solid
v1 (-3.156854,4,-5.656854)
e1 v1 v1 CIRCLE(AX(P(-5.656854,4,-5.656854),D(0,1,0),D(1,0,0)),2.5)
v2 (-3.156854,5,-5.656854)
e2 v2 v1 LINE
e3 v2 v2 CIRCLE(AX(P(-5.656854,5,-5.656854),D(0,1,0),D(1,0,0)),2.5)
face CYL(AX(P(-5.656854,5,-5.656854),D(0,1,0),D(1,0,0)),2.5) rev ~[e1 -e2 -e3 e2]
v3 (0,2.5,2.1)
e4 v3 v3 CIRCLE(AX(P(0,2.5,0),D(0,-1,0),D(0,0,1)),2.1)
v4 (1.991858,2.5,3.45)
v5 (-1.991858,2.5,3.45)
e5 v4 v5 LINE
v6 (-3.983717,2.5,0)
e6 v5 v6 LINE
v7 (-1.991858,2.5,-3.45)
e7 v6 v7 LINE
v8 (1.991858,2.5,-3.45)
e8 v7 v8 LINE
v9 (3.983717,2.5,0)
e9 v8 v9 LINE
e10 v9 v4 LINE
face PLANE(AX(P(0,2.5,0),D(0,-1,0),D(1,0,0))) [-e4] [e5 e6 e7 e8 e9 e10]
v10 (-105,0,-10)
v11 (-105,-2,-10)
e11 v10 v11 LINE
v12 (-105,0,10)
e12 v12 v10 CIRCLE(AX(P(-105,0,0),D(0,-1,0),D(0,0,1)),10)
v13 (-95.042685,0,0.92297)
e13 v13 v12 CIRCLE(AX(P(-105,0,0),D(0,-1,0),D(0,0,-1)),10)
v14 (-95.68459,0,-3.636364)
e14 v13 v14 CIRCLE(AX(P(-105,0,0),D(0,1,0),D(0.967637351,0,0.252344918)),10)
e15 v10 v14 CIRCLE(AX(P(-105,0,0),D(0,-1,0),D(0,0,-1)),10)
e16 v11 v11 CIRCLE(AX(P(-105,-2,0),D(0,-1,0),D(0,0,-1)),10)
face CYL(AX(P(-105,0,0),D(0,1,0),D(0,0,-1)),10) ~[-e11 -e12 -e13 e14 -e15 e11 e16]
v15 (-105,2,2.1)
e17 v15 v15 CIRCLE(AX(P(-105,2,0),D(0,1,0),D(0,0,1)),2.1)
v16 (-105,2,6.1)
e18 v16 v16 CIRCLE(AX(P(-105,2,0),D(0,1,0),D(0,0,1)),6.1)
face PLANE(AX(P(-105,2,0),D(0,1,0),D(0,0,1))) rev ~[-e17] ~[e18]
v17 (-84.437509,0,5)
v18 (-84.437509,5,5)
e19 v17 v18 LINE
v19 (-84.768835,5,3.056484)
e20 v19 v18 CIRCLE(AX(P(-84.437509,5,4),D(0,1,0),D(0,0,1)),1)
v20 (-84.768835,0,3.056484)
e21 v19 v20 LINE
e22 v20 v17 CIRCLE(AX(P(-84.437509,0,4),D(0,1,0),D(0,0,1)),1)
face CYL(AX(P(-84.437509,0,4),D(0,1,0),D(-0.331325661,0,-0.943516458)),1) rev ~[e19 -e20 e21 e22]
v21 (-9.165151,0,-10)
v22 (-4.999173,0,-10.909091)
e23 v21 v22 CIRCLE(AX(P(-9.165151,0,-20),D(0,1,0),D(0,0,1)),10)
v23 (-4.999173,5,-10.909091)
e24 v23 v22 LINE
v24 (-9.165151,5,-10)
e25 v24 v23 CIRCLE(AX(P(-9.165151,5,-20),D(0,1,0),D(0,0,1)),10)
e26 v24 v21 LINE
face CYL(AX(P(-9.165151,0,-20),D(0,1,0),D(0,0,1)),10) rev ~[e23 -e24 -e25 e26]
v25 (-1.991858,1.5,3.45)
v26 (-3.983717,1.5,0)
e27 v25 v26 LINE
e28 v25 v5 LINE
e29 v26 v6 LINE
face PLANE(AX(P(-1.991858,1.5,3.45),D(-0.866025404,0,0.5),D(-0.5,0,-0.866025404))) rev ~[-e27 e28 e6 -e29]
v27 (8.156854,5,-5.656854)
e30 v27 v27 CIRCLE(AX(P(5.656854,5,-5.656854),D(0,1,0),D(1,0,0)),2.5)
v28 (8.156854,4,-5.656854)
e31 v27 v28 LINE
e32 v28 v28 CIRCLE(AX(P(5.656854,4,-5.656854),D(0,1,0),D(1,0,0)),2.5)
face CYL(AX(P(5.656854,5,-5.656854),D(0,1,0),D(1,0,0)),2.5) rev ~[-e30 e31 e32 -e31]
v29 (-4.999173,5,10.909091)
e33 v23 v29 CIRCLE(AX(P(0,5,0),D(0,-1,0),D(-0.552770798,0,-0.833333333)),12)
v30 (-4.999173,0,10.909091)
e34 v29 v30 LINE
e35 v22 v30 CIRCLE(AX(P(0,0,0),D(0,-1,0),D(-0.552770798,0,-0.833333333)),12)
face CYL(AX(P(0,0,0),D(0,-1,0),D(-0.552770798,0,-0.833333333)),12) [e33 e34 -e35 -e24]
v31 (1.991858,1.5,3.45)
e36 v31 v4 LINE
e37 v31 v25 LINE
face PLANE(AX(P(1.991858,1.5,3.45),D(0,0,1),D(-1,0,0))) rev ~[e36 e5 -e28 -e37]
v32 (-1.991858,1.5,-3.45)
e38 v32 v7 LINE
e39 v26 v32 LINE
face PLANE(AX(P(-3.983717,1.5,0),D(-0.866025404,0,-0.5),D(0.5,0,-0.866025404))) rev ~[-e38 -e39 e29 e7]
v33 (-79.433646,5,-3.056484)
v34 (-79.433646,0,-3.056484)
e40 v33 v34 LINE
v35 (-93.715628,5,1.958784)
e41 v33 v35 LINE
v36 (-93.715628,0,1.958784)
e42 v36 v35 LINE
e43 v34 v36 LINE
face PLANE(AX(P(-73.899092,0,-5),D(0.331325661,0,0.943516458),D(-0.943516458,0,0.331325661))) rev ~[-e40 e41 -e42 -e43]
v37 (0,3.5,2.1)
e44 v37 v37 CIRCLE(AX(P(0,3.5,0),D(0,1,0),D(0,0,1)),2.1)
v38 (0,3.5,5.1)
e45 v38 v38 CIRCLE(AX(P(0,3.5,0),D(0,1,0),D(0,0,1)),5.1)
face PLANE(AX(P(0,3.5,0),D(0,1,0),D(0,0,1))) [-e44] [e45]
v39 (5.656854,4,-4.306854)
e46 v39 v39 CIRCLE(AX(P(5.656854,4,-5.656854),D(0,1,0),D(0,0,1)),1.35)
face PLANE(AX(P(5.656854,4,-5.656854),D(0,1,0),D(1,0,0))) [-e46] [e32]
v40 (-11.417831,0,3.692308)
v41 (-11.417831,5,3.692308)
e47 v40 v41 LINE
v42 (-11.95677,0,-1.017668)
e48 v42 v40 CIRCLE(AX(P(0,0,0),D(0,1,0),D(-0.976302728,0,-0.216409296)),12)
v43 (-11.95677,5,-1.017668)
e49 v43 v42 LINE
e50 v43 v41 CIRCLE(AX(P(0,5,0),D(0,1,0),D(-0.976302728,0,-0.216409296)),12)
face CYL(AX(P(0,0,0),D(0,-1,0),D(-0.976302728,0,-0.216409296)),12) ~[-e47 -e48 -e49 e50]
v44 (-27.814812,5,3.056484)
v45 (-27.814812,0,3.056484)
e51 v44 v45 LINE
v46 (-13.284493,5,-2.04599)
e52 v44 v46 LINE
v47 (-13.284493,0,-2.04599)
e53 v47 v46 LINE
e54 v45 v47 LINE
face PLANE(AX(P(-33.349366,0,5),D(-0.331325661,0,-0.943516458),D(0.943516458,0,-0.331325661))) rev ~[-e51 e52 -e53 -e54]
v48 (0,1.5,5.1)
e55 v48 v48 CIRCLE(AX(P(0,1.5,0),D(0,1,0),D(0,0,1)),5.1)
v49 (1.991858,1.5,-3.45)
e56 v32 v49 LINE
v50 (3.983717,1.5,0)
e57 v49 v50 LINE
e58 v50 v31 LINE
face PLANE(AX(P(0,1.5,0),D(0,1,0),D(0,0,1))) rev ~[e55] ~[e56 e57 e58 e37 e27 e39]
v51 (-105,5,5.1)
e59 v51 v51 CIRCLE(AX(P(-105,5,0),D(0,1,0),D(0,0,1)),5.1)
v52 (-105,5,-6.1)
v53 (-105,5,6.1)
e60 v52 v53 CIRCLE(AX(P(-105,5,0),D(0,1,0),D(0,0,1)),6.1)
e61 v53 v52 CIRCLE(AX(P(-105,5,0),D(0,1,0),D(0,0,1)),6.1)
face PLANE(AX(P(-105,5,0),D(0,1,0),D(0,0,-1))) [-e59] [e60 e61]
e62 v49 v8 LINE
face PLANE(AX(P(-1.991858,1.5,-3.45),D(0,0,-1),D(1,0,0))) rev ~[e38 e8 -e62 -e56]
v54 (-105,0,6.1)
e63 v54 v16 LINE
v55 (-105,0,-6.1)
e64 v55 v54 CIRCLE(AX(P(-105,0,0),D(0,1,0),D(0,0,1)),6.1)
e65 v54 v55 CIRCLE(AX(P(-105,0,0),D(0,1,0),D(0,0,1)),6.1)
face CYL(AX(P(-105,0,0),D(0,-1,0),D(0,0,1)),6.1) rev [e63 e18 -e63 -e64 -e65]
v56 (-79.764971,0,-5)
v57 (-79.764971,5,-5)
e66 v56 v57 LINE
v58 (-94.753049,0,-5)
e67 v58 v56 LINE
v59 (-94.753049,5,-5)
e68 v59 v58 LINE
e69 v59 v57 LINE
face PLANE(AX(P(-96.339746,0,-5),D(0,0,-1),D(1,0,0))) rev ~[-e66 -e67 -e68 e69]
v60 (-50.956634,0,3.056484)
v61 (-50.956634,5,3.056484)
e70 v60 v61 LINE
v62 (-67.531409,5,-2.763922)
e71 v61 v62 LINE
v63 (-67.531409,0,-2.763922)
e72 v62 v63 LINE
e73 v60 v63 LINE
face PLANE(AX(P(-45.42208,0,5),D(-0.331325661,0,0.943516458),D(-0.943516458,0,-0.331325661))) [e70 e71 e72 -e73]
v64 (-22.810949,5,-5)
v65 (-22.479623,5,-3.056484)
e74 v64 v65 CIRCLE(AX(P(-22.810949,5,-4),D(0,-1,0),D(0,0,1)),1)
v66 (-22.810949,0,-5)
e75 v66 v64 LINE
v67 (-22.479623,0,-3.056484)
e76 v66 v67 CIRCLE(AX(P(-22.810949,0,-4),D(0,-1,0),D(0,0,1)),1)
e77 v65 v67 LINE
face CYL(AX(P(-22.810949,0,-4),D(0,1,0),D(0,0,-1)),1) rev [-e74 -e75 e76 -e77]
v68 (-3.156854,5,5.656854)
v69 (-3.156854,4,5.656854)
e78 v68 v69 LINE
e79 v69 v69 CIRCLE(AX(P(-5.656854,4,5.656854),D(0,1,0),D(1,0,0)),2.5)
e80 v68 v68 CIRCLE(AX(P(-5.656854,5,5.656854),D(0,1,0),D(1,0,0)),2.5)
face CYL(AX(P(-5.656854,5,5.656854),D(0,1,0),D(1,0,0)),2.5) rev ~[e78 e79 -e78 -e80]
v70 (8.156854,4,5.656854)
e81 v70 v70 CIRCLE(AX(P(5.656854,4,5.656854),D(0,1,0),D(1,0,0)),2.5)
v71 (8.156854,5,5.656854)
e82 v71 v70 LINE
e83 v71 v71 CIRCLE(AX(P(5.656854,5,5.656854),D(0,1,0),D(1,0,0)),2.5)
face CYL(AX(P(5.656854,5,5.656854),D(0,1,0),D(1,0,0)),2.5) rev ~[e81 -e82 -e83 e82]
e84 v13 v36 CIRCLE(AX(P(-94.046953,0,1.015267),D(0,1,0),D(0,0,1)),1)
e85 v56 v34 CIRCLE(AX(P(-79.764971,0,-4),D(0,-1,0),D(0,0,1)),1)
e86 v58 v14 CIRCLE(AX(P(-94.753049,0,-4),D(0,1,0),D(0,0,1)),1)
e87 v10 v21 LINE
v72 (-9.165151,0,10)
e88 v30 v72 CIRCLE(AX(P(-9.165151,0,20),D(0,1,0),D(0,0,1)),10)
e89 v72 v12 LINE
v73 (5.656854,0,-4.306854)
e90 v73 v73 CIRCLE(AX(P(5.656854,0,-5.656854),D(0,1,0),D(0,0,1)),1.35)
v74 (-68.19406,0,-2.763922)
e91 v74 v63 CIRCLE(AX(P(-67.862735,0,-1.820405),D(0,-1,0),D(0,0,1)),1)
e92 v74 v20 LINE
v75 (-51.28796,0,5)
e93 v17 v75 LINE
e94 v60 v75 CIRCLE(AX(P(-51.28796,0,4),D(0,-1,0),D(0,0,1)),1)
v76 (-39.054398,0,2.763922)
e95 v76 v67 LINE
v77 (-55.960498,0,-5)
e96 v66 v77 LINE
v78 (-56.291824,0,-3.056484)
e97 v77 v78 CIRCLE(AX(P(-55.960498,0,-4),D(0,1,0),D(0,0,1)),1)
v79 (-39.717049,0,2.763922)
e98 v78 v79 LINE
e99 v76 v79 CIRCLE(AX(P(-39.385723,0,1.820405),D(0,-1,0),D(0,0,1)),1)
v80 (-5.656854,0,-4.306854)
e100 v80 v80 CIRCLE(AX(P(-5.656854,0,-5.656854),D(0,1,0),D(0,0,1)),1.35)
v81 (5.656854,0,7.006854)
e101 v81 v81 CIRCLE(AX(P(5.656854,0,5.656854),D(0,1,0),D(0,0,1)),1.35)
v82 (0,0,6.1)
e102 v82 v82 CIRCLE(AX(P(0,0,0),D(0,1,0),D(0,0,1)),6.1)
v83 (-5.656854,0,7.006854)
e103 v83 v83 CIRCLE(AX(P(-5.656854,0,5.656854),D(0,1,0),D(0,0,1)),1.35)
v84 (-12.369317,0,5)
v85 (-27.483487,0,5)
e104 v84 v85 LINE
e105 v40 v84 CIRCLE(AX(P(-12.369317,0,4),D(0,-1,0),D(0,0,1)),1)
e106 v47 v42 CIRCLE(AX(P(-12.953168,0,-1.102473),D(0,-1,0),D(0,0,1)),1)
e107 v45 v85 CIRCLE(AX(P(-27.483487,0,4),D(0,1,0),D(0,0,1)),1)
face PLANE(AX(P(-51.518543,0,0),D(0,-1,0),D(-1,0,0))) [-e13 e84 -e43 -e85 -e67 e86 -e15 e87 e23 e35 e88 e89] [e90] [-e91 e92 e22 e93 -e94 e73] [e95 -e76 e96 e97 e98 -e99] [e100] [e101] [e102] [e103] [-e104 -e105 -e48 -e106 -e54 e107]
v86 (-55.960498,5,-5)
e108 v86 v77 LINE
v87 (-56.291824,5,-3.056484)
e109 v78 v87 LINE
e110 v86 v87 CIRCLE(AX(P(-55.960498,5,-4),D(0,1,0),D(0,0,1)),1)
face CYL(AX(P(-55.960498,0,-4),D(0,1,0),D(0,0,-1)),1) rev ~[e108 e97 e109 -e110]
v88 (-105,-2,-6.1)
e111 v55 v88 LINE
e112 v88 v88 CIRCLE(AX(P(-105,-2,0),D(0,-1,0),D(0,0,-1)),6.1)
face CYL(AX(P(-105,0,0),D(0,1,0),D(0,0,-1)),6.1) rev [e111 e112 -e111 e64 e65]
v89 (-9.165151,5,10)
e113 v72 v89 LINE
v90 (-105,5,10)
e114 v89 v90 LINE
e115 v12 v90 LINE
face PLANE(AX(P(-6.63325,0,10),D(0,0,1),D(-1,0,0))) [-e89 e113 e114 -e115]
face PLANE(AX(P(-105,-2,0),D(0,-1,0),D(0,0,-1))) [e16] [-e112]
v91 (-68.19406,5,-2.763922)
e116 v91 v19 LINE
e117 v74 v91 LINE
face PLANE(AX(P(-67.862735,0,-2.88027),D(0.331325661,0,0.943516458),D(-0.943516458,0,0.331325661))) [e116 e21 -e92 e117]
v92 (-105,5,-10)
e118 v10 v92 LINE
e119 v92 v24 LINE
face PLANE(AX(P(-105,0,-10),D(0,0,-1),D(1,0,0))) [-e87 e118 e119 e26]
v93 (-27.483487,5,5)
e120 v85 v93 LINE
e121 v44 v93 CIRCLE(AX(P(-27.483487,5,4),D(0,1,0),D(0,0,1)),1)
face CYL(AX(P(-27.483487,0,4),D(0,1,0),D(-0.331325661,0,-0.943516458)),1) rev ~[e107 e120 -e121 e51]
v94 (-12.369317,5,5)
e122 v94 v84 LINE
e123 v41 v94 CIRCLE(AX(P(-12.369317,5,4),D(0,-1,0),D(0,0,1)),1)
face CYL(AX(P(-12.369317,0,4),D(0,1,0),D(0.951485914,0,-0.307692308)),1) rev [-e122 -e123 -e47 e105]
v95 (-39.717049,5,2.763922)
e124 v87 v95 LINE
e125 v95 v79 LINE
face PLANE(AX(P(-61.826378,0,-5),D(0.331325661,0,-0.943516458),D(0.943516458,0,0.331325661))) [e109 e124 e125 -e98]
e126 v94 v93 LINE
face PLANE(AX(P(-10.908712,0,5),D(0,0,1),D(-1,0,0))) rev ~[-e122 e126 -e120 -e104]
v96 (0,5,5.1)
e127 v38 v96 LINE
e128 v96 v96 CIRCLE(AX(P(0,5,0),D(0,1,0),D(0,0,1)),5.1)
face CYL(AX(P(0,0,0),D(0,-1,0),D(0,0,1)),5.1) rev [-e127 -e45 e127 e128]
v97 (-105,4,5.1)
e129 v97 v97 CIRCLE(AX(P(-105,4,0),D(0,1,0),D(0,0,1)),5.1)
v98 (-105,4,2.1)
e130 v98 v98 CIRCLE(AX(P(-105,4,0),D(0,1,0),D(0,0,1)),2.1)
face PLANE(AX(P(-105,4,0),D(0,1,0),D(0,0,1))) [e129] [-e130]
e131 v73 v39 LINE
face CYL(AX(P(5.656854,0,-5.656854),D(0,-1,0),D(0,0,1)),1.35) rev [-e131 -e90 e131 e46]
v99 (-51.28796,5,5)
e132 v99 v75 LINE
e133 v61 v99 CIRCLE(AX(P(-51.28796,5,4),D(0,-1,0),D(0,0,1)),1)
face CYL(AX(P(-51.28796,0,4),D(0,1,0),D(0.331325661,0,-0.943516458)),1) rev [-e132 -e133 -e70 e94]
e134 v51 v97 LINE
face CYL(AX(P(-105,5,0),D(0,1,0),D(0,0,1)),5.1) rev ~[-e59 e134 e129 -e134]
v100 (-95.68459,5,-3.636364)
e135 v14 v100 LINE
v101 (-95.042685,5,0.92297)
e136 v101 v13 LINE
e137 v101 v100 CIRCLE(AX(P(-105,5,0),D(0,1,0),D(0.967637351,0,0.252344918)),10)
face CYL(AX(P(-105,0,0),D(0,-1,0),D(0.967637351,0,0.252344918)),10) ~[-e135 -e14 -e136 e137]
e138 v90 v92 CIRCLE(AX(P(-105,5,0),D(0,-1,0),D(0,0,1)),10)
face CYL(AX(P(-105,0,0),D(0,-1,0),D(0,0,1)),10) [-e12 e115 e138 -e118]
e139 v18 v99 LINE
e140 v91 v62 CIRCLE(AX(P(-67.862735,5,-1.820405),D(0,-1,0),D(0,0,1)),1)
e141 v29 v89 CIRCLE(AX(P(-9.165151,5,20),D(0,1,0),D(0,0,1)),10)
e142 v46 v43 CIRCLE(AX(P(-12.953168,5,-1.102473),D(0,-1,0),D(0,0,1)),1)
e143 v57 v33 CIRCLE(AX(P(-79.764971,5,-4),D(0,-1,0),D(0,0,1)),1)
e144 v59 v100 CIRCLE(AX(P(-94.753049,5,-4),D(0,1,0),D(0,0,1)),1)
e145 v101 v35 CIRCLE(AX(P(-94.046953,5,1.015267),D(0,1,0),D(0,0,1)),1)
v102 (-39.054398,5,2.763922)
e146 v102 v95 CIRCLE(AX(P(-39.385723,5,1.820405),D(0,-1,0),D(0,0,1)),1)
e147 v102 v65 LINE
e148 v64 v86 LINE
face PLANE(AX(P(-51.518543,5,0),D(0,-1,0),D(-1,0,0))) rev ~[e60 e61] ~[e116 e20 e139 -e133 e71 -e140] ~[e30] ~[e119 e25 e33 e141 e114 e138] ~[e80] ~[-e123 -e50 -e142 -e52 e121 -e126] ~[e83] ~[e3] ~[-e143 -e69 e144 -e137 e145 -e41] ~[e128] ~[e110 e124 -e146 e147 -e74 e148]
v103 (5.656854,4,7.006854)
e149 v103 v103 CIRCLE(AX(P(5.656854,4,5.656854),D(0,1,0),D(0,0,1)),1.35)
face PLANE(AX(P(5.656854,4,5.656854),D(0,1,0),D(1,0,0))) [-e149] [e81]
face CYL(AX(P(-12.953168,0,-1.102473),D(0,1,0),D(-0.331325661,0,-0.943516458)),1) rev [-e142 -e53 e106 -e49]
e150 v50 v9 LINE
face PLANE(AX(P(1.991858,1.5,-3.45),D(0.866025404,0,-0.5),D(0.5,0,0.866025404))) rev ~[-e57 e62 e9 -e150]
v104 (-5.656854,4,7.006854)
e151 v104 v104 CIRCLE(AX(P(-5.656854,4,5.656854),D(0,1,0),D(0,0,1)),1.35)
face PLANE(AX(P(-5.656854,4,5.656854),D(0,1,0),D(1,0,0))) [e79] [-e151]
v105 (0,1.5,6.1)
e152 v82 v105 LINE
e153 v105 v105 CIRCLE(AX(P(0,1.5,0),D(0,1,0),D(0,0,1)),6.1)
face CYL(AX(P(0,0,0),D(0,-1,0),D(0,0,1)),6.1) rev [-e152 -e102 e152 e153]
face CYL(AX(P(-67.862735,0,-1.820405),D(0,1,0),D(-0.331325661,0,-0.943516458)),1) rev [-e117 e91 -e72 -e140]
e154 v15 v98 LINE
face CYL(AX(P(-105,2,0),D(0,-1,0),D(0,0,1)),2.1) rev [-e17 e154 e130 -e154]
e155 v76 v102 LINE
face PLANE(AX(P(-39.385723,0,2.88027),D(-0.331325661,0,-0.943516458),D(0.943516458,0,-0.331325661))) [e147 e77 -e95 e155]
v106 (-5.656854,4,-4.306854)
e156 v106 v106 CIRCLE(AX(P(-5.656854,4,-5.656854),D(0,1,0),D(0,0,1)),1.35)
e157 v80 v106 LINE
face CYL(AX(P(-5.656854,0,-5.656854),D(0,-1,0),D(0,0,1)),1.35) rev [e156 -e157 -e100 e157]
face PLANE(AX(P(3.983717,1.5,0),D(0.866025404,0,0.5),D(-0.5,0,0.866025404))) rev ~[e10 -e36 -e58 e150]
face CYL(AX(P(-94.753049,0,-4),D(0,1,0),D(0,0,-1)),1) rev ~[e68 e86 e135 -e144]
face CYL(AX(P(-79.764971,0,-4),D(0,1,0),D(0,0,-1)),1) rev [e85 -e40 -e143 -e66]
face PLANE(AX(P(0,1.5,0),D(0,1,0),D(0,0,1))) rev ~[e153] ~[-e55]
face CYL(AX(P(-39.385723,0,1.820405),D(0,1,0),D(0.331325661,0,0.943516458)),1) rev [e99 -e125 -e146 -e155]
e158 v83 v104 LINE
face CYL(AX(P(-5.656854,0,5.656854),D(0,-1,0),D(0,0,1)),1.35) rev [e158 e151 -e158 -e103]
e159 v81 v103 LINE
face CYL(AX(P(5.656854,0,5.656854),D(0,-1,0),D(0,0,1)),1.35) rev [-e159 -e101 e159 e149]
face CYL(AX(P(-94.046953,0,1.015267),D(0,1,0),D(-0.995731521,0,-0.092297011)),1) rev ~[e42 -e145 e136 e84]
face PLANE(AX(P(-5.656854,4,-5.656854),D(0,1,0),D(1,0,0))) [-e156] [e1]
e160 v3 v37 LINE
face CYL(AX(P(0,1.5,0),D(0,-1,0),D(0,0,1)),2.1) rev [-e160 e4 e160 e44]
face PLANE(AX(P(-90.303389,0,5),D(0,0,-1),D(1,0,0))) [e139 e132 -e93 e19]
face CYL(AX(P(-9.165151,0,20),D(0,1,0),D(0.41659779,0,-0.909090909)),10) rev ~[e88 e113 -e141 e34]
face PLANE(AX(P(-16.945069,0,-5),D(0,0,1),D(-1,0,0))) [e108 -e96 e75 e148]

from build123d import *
from build123d.topology import SkipClean

# Parameters (mm, degrees)
SKETCH_1_R            = 1.35
SKETCH_1_R_2          = 5.1
SKETCH_1_R_3          = 6.1
EXTRUDE_1_DEPTH       = 5
EXTRUDE_START         = 1.5
SKETCH_1_4_R          = 6.1
SKETCH_1_4_R_2        = 5.1
SKETCH_1_4_R_3        = 2.1
EXTRUDE_3_DEPTH       = 2
FILLET_1_R            = 1
FILLET_2_R            = 1
FILLET_3_R            = 1
FILLET_4_R            = 1
FILLET_5_R            = 10
SKETCH_1_9_R          = 1.35
SKETCH_1_9_R_2        = 6.1
SKETCH_1_9_R_3        = 2.1
EXTRUDE_4_DEPTH       = 4
EXTRUDE_START_2       = 2
SKETCH_1_10_R         = 6.1
SKETCH_1_10_R_2       = 2.1
EXTRUDE_5_DEPTH       = 2
SKETCH_1_11_R         = 6.1
SKETCH_1_11_R_2       = 5.1
EXTRUDE_7_DEPTH       = 3.5
CUT_EXTRUDE_START     = 5
SKETCH_1_15_R         = 2.5
SKETCH_1_15_R_2       = 1.35
CUT_EXTRUDE_1_DEPTH   = 1
SKETCH_2_R            = 10
SKETCH_2_R_2          = 6.1
EXTRUDE_8_DEPTH       = 2
SKETCH_1_16_R         = 6.1
SKETCH_1_16_R_2       = 5.1
CUT_EXTRUDE_1_2_DEPTH = 1.5
SKETCH_3_R            = 6.1
SKETCH_3_R_2          = 5.1
EXTRUDE_9_DEPTH       = 1
CUT_EXTRUDE_2_DEPTH   = 1


with BuildPart() as part:
    # 草图1 → 凸台-拉伸1 (new body)
    with BuildSketch(Plane(origin=(0, 0, 0), x_dir=(1, 0, 0), z_dir=(0, 1, 0))):
        with BuildLine():
            Line((-105, 10), (-6.633249581, 10))
            ThreePointArc((-6.633249581, 10), (12, 0), (-6.633249581, -10))
            Line((-6.633249581, -10), (-105, -10))
            ThreePointArc((-105, -10), (-115, 0), (-105, 10))
        make_face()
        with Locations(Location((-5.656854249, 5.656854249, 0), (0, 0, 270))):
            Circle(SKETCH_1_R, mode=Mode.SUBTRACT)
        with Locations(Location((5.656854249, 5.656854249, 0), (0, 0, 270))):
            Circle(SKETCH_1_R, mode=Mode.SUBTRACT)
        with Locations(Location((5.656854249, -5.656854249, 0), (0, 0, 270))):
            Circle(SKETCH_1_R, mode=Mode.SUBTRACT)
        with Locations(Location((-5.656854249, -5.656854249, 0), (0, 0, 270))):
            Circle(SKETCH_1_R, mode=Mode.SUBTRACT)
        with Locations(Location((0, 0, 0), (0, 0, 270))):
            Circle(SKETCH_1_R_2, mode=Mode.SUBTRACT)
        with Locations(Location((-105, 0, 0), (0, 0, 270))):
            Circle(SKETCH_1_R_3, mode=Mode.SUBTRACT)
        Polygon((-90.303388877, -5), (-45.422080483, -5), (-67.86273468, 2.88027015), align=None, mode=Mode.SUBTRACT)
        with BuildLine():
            Line((-96.339745962, 5), (-73.899091765, 5))
            Line((-73.899091765, 5), (-95.323626495, -2.523449184))
            ThreePointArc((-95.323626495, -2.523449184), (-95.08997733, 1.33845085), (-96.339745962, 5))
        make_face(mode=Mode.SUBTRACT)
        Polygon((-61.826377594, 5), (-39.385723397, -2.88027015), (-16.9450692, 5), align=None, mode=Mode.SUBTRACT)
        with BuildLine():
            Line((-33.349366312, -5), (-11.715632737, 2.596911544))
            ThreePointArc((-11.715632737, 2.596911544), (-11.93287523, -1.267473374), (-10.908712115, -5))
            Line((-10.908712115, -5), (-33.349366312, -5))
        make_face(mode=Mode.SUBTRACT)
    extrude(amount=EXTRUDE_1_DEPTH)

    # 草图1<4> → 凸台-拉伸3 (add)
    # profile 1 of 2: a face of its own
    with BuildSketch(Plane(origin=(0, 0, 0), x_dir=(1, 0, 0), z_dir=(0, 1, 0)).offset(EXTRUDE_START)):
        Circle(SKETCH_1_4_R)
        with Locations(Location((0, 0, 0), (0, 0, 270))):
            Circle(SKETCH_1_4_R_2, mode=Mode.SUBTRACT)
    # profile 2 of 2: a face of its own
    with BuildSketch(Plane(origin=(0, 0, 0), x_dir=(1, 0, 0), z_dir=(0, 1, 0)).offset(EXTRUDE_START)):
        with Locations(Location((0, 0, 0), (0, 0, 270))):
            Circle(SKETCH_1_4_R_2)
        with Locations(Location((0, 0, 0), (0, 0, 270))):
            Circle(SKETCH_1_4_R_3, mode=Mode.SUBTRACT)
    extrude(amount=EXTRUDE_3_DEPTH)

    # 圆角1
    fillet_1_edges = [part.edges().sort_by_distance(p)[0] for p in [
        (-73.899091765, 2.5, -5),
        (-96.339745962, 2.5, -5),
        (-95.323626495, 2.5, 2.523449184),
    ]]
    fillet(fillet_1_edges, radius=FILLET_1_R)

    # 圆角2
    fillet_2_edges = [part.edges().sort_by_distance(p)[0] for p in [
        (-90.303388877, 2.5, 5),
        (-45.422080483, 2.5, 5),
        (-67.86273468, 2.5, -2.88027015),
    ]]
    fillet(fillet_2_edges, radius=FILLET_2_R)

    # 圆角3
    fillet_3_edges = [part.edges().sort_by_distance(p)[0] for p in [
        (-39.385723397, 2.5, 2.88027015),
        (-16.9450692, 2.5, -5),
        (-61.826377594, 2.5, -5),
    ]]
    fillet(fillet_3_edges, radius=FILLET_3_R)

    # 圆角4
    fillet_4_edges = [part.edges().sort_by_distance(p)[0] for p in [
        (-33.349366312, 2.5, 5),
        (-10.908712115, 2.5, 5),
        (-11.715632737, 2.5, -2.596911544),
    ]]
    fillet(fillet_4_edges, radius=FILLET_4_R)

    # 圆角5
    fillet_5_edges = [part.edges().sort_by_distance(p)[0] for p in [
        (-6.633249581, 2.5, -10),
        (-6.633249581, 2.5, 10),
    ]]
    fillet(fillet_5_edges, radius=FILLET_5_R)

    # 草图1<9> → 凸台-拉伸4 (add)
    # profile 1 of 2: a face of its own
    with BuildSketch(Plane(origin=(0, 0, 0), x_dir=(1, 0, 0), z_dir=(0, 1, 0))):
        with BuildLine():
            Line((-105, 10), (-6.633249581, 10))
            ThreePointArc((-6.633249581, 10), (12, 0), (-6.633249581, -10))
            Line((-6.633249581, -10), (-105, -10))
            ThreePointArc((-105, -10), (-115, 0), (-105, 10))
        make_face()
        with Locations(Location((-5.656854249, 5.656854249, 0), (0, 0, 270))):
            Circle(SKETCH_1_9_R, mode=Mode.SUBTRACT)
        with Locations(Location((5.656854249, 5.656854249, 0), (0, 0, 270))):
            Circle(SKETCH_1_9_R, mode=Mode.SUBTRACT)
        with Locations(Location((5.656854249, -5.656854249, 0), (0, 0, 270))):
            Circle(SKETCH_1_9_R, mode=Mode.SUBTRACT)
        with Locations(Location((-5.656854249, -5.656854249, 0), (0, 0, 270))):
            Circle(SKETCH_1_9_R, mode=Mode.SUBTRACT)
        with Locations(Location((-105, 0, 0), (0, 0, 270))):
            Circle(SKETCH_1_9_R_2, mode=Mode.SUBTRACT)
        Circle(SKETCH_1_9_R_2, mode=Mode.SUBTRACT)
        Polygon((-90.303388877, -5), (-45.422080483, -5), (-67.86273468, 2.88027015), align=None, mode=Mode.SUBTRACT)
        with BuildLine():
            Line((-96.339745962, 5), (-73.899091765, 5))
            Line((-73.899091765, 5), (-95.323626495, -2.523449184))
            ThreePointArc((-95.323626495, -2.523449184), (-95.08997733, 1.33845085), (-96.339745962, 5))
        make_face(mode=Mode.SUBTRACT)
        Polygon((-61.826377594, 5), (-39.385723397, -2.88027015), (-16.9450692, 5), align=None, mode=Mode.SUBTRACT)
        with BuildLine():
            Line((-33.349366312, -5), (-11.715632737, 2.596911544))
            ThreePointArc((-11.715632737, 2.596911544), (-11.93287523, -1.267473374), (-10.908712115, -5))
            Line((-10.908712115, -5), (-33.349366312, -5))
        make_face(mode=Mode.SUBTRACT)
    # profile 2 of 2: a face of its own
    with BuildSketch(Plane(origin=(0, 0, 0), x_dir=(1, 0, 0), z_dir=(0, 1, 0))):
        with Locations((-105, 0)):
            Circle(SKETCH_1_9_R_3)
    extrude(amount=EXTRUDE_4_DEPTH)


with BuildPart() as extrude_4_kept_piece:
    # of the separate pieces the step leaves, the one the design keeps (extrude_4_pieces_kept)
    add(part.part.solids().sort_by_distance((-9.16515139, 0, 10))[0])

    # 草图1<10> → 凸台-拉伸5 (add)
    with BuildSketch(Plane(origin=(0, 0, 0), x_dir=(1, 0, 0), z_dir=(0, 1, 0)).offset(EXTRUDE_START_2)):
        with Locations(Location((-105, 0, 0), (0, 0, 270))):
            Circle(SKETCH_1_10_R)
        with Locations(Location((-105, 0, 0), (0, 0, 270))):
            Circle(SKETCH_1_10_R_2, mode=Mode.SUBTRACT)
    extrude(amount=EXTRUDE_5_DEPTH)

    # 草图1<11> → 凸台-拉伸7 (add)
    with BuildSketch(Plane(origin=(0, 0, 0), x_dir=(1, 0, 0), z_dir=(0, 1, 0))):
        Circle(SKETCH_1_11_R)
        with Locations(Location((0, 0, 0), (0, 0, 270))):
            Circle(SKETCH_1_11_R_2, mode=Mode.SUBTRACT)
    extrude(amount=EXTRUDE_7_DEPTH)

    # 草图1<15> → Cut-Extrude 1 (cut)
    # profile 1 of 4: a face of its own
    with BuildSketch(Plane(origin=(0, 0, 0), x_dir=(1, 0, 0), z_dir=(0, 1, 0)).offset(CUT_EXTRUDE_START)):
        with Locations((-5.656854249, 5.656854249)):
            Circle(SKETCH_1_15_R)
        with Locations((-5.656854249, 5.656854249)):
            Circle(SKETCH_1_15_R_2, mode=Mode.SUBTRACT)
    # profile 2 of 4: a face of its own
    with BuildSketch(Plane(origin=(0, 0, 0), x_dir=(1, 0, 0), z_dir=(0, 1, 0)).offset(CUT_EXTRUDE_START)):
        with Locations((5.656854249, 5.656854249)):
            Circle(SKETCH_1_15_R)
        with Locations((5.656854249, 5.656854249)):
            Circle(SKETCH_1_15_R_2, mode=Mode.SUBTRACT)
    # profile 3 of 4: a face of its own
    with BuildSketch(Plane(origin=(0, 0, 0), x_dir=(1, 0, 0), z_dir=(0, 1, 0)).offset(CUT_EXTRUDE_START)):
        with Locations((5.656854249, -5.656854249)):
            Circle(SKETCH_1_15_R)
        with Locations((5.656854249, -5.656854249)):
            Circle(SKETCH_1_15_R_2, mode=Mode.SUBTRACT)
    # profile 4 of 4: a face of its own
    with BuildSketch(Plane(origin=(0, 0, 0), x_dir=(1, 0, 0), z_dir=(0, 1, 0)).offset(CUT_EXTRUDE_START)):
        with Locations((-5.656854249, -5.656854249)):
            Circle(SKETCH_1_15_R)
        with Locations((-5.656854249, -5.656854249)):
            Circle(SKETCH_1_15_R_2, mode=Mode.SUBTRACT)
    extrude(amount=-CUT_EXTRUDE_1_DEPTH, mode=Mode.SUBTRACT)

    # 草图2 → 凸台-拉伸8 (add)
    with SkipClean():  # the faces are left unmerged after this step: merging them gives an invalid solid
        with BuildSketch(Plane.XZ):
            with Locations(Location((-105, 0, 0), (0, 0, 270))):
                Circle(SKETCH_2_R)
            with Locations(Location((-105, 0, 0), (0, 0, 270))):
                Circle(SKETCH_2_R_2, mode=Mode.SUBTRACT)
        extrude(amount=EXTRUDE_8_DEPTH)

    # 草图1<16> → Cut-Extrude 1 2 (cut)
    with SkipClean():  # the faces are left unmerged after this step: merging them gives an invalid solid
        with BuildSketch(Plane(origin=(0, 0, 0), x_dir=(1, 0, 0), z_dir=(0, 1, 0))):
            with Locations(Location((0, 0, 0), (0, 0, 270))):
                Circle(SKETCH_1_16_R)
            with Locations(Location((0, 0, 0), (0, 0, 270))):
                Circle(SKETCH_1_16_R_2, mode=Mode.SUBTRACT)
        extrude(amount=CUT_EXTRUDE_1_2_DEPTH, mode=Mode.SUBTRACT)

    # 草图3 → 凸台-拉伸9 (add)
    with SkipClean():  # the faces are left unmerged after this step: merging them gives an invalid solid
        with BuildSketch(Plane(origin=(0, 5, 0), x_dir=(1, 0, 0), z_dir=(0, 1, 0))):
            with Locations(Location((-105, 0, 0), (0, 0, 90))):
                Circle(SKETCH_3_R)
            with Locations(Location((-105, 0, 0), (0, 0, 270))):
                Circle(SKETCH_3_R_2, mode=Mode.SUBTRACT)
        extrude(amount=-EXTRUDE_9_DEPTH)

    # 草图4 → 切除-拉伸2 (cut)
    with SkipClean():  # the faces are left unmerged after this step: merging them gives an invalid solid
        with BuildSketch(Plane.XZ.offset(-1.5)):
            Polygon((3.983716857, 0), (1.991858429, 3.45), (-1.991858429, 3.45), (-3.983716857, 0), (-1.991858429, -3.45), (1.991858429, -3.45), align=None)
        extrude(amount=-CUT_EXTRUDE_2_DEPTH, mode=Mode.SUBTRACT)


solid = extrude_4_kept_piece.part
